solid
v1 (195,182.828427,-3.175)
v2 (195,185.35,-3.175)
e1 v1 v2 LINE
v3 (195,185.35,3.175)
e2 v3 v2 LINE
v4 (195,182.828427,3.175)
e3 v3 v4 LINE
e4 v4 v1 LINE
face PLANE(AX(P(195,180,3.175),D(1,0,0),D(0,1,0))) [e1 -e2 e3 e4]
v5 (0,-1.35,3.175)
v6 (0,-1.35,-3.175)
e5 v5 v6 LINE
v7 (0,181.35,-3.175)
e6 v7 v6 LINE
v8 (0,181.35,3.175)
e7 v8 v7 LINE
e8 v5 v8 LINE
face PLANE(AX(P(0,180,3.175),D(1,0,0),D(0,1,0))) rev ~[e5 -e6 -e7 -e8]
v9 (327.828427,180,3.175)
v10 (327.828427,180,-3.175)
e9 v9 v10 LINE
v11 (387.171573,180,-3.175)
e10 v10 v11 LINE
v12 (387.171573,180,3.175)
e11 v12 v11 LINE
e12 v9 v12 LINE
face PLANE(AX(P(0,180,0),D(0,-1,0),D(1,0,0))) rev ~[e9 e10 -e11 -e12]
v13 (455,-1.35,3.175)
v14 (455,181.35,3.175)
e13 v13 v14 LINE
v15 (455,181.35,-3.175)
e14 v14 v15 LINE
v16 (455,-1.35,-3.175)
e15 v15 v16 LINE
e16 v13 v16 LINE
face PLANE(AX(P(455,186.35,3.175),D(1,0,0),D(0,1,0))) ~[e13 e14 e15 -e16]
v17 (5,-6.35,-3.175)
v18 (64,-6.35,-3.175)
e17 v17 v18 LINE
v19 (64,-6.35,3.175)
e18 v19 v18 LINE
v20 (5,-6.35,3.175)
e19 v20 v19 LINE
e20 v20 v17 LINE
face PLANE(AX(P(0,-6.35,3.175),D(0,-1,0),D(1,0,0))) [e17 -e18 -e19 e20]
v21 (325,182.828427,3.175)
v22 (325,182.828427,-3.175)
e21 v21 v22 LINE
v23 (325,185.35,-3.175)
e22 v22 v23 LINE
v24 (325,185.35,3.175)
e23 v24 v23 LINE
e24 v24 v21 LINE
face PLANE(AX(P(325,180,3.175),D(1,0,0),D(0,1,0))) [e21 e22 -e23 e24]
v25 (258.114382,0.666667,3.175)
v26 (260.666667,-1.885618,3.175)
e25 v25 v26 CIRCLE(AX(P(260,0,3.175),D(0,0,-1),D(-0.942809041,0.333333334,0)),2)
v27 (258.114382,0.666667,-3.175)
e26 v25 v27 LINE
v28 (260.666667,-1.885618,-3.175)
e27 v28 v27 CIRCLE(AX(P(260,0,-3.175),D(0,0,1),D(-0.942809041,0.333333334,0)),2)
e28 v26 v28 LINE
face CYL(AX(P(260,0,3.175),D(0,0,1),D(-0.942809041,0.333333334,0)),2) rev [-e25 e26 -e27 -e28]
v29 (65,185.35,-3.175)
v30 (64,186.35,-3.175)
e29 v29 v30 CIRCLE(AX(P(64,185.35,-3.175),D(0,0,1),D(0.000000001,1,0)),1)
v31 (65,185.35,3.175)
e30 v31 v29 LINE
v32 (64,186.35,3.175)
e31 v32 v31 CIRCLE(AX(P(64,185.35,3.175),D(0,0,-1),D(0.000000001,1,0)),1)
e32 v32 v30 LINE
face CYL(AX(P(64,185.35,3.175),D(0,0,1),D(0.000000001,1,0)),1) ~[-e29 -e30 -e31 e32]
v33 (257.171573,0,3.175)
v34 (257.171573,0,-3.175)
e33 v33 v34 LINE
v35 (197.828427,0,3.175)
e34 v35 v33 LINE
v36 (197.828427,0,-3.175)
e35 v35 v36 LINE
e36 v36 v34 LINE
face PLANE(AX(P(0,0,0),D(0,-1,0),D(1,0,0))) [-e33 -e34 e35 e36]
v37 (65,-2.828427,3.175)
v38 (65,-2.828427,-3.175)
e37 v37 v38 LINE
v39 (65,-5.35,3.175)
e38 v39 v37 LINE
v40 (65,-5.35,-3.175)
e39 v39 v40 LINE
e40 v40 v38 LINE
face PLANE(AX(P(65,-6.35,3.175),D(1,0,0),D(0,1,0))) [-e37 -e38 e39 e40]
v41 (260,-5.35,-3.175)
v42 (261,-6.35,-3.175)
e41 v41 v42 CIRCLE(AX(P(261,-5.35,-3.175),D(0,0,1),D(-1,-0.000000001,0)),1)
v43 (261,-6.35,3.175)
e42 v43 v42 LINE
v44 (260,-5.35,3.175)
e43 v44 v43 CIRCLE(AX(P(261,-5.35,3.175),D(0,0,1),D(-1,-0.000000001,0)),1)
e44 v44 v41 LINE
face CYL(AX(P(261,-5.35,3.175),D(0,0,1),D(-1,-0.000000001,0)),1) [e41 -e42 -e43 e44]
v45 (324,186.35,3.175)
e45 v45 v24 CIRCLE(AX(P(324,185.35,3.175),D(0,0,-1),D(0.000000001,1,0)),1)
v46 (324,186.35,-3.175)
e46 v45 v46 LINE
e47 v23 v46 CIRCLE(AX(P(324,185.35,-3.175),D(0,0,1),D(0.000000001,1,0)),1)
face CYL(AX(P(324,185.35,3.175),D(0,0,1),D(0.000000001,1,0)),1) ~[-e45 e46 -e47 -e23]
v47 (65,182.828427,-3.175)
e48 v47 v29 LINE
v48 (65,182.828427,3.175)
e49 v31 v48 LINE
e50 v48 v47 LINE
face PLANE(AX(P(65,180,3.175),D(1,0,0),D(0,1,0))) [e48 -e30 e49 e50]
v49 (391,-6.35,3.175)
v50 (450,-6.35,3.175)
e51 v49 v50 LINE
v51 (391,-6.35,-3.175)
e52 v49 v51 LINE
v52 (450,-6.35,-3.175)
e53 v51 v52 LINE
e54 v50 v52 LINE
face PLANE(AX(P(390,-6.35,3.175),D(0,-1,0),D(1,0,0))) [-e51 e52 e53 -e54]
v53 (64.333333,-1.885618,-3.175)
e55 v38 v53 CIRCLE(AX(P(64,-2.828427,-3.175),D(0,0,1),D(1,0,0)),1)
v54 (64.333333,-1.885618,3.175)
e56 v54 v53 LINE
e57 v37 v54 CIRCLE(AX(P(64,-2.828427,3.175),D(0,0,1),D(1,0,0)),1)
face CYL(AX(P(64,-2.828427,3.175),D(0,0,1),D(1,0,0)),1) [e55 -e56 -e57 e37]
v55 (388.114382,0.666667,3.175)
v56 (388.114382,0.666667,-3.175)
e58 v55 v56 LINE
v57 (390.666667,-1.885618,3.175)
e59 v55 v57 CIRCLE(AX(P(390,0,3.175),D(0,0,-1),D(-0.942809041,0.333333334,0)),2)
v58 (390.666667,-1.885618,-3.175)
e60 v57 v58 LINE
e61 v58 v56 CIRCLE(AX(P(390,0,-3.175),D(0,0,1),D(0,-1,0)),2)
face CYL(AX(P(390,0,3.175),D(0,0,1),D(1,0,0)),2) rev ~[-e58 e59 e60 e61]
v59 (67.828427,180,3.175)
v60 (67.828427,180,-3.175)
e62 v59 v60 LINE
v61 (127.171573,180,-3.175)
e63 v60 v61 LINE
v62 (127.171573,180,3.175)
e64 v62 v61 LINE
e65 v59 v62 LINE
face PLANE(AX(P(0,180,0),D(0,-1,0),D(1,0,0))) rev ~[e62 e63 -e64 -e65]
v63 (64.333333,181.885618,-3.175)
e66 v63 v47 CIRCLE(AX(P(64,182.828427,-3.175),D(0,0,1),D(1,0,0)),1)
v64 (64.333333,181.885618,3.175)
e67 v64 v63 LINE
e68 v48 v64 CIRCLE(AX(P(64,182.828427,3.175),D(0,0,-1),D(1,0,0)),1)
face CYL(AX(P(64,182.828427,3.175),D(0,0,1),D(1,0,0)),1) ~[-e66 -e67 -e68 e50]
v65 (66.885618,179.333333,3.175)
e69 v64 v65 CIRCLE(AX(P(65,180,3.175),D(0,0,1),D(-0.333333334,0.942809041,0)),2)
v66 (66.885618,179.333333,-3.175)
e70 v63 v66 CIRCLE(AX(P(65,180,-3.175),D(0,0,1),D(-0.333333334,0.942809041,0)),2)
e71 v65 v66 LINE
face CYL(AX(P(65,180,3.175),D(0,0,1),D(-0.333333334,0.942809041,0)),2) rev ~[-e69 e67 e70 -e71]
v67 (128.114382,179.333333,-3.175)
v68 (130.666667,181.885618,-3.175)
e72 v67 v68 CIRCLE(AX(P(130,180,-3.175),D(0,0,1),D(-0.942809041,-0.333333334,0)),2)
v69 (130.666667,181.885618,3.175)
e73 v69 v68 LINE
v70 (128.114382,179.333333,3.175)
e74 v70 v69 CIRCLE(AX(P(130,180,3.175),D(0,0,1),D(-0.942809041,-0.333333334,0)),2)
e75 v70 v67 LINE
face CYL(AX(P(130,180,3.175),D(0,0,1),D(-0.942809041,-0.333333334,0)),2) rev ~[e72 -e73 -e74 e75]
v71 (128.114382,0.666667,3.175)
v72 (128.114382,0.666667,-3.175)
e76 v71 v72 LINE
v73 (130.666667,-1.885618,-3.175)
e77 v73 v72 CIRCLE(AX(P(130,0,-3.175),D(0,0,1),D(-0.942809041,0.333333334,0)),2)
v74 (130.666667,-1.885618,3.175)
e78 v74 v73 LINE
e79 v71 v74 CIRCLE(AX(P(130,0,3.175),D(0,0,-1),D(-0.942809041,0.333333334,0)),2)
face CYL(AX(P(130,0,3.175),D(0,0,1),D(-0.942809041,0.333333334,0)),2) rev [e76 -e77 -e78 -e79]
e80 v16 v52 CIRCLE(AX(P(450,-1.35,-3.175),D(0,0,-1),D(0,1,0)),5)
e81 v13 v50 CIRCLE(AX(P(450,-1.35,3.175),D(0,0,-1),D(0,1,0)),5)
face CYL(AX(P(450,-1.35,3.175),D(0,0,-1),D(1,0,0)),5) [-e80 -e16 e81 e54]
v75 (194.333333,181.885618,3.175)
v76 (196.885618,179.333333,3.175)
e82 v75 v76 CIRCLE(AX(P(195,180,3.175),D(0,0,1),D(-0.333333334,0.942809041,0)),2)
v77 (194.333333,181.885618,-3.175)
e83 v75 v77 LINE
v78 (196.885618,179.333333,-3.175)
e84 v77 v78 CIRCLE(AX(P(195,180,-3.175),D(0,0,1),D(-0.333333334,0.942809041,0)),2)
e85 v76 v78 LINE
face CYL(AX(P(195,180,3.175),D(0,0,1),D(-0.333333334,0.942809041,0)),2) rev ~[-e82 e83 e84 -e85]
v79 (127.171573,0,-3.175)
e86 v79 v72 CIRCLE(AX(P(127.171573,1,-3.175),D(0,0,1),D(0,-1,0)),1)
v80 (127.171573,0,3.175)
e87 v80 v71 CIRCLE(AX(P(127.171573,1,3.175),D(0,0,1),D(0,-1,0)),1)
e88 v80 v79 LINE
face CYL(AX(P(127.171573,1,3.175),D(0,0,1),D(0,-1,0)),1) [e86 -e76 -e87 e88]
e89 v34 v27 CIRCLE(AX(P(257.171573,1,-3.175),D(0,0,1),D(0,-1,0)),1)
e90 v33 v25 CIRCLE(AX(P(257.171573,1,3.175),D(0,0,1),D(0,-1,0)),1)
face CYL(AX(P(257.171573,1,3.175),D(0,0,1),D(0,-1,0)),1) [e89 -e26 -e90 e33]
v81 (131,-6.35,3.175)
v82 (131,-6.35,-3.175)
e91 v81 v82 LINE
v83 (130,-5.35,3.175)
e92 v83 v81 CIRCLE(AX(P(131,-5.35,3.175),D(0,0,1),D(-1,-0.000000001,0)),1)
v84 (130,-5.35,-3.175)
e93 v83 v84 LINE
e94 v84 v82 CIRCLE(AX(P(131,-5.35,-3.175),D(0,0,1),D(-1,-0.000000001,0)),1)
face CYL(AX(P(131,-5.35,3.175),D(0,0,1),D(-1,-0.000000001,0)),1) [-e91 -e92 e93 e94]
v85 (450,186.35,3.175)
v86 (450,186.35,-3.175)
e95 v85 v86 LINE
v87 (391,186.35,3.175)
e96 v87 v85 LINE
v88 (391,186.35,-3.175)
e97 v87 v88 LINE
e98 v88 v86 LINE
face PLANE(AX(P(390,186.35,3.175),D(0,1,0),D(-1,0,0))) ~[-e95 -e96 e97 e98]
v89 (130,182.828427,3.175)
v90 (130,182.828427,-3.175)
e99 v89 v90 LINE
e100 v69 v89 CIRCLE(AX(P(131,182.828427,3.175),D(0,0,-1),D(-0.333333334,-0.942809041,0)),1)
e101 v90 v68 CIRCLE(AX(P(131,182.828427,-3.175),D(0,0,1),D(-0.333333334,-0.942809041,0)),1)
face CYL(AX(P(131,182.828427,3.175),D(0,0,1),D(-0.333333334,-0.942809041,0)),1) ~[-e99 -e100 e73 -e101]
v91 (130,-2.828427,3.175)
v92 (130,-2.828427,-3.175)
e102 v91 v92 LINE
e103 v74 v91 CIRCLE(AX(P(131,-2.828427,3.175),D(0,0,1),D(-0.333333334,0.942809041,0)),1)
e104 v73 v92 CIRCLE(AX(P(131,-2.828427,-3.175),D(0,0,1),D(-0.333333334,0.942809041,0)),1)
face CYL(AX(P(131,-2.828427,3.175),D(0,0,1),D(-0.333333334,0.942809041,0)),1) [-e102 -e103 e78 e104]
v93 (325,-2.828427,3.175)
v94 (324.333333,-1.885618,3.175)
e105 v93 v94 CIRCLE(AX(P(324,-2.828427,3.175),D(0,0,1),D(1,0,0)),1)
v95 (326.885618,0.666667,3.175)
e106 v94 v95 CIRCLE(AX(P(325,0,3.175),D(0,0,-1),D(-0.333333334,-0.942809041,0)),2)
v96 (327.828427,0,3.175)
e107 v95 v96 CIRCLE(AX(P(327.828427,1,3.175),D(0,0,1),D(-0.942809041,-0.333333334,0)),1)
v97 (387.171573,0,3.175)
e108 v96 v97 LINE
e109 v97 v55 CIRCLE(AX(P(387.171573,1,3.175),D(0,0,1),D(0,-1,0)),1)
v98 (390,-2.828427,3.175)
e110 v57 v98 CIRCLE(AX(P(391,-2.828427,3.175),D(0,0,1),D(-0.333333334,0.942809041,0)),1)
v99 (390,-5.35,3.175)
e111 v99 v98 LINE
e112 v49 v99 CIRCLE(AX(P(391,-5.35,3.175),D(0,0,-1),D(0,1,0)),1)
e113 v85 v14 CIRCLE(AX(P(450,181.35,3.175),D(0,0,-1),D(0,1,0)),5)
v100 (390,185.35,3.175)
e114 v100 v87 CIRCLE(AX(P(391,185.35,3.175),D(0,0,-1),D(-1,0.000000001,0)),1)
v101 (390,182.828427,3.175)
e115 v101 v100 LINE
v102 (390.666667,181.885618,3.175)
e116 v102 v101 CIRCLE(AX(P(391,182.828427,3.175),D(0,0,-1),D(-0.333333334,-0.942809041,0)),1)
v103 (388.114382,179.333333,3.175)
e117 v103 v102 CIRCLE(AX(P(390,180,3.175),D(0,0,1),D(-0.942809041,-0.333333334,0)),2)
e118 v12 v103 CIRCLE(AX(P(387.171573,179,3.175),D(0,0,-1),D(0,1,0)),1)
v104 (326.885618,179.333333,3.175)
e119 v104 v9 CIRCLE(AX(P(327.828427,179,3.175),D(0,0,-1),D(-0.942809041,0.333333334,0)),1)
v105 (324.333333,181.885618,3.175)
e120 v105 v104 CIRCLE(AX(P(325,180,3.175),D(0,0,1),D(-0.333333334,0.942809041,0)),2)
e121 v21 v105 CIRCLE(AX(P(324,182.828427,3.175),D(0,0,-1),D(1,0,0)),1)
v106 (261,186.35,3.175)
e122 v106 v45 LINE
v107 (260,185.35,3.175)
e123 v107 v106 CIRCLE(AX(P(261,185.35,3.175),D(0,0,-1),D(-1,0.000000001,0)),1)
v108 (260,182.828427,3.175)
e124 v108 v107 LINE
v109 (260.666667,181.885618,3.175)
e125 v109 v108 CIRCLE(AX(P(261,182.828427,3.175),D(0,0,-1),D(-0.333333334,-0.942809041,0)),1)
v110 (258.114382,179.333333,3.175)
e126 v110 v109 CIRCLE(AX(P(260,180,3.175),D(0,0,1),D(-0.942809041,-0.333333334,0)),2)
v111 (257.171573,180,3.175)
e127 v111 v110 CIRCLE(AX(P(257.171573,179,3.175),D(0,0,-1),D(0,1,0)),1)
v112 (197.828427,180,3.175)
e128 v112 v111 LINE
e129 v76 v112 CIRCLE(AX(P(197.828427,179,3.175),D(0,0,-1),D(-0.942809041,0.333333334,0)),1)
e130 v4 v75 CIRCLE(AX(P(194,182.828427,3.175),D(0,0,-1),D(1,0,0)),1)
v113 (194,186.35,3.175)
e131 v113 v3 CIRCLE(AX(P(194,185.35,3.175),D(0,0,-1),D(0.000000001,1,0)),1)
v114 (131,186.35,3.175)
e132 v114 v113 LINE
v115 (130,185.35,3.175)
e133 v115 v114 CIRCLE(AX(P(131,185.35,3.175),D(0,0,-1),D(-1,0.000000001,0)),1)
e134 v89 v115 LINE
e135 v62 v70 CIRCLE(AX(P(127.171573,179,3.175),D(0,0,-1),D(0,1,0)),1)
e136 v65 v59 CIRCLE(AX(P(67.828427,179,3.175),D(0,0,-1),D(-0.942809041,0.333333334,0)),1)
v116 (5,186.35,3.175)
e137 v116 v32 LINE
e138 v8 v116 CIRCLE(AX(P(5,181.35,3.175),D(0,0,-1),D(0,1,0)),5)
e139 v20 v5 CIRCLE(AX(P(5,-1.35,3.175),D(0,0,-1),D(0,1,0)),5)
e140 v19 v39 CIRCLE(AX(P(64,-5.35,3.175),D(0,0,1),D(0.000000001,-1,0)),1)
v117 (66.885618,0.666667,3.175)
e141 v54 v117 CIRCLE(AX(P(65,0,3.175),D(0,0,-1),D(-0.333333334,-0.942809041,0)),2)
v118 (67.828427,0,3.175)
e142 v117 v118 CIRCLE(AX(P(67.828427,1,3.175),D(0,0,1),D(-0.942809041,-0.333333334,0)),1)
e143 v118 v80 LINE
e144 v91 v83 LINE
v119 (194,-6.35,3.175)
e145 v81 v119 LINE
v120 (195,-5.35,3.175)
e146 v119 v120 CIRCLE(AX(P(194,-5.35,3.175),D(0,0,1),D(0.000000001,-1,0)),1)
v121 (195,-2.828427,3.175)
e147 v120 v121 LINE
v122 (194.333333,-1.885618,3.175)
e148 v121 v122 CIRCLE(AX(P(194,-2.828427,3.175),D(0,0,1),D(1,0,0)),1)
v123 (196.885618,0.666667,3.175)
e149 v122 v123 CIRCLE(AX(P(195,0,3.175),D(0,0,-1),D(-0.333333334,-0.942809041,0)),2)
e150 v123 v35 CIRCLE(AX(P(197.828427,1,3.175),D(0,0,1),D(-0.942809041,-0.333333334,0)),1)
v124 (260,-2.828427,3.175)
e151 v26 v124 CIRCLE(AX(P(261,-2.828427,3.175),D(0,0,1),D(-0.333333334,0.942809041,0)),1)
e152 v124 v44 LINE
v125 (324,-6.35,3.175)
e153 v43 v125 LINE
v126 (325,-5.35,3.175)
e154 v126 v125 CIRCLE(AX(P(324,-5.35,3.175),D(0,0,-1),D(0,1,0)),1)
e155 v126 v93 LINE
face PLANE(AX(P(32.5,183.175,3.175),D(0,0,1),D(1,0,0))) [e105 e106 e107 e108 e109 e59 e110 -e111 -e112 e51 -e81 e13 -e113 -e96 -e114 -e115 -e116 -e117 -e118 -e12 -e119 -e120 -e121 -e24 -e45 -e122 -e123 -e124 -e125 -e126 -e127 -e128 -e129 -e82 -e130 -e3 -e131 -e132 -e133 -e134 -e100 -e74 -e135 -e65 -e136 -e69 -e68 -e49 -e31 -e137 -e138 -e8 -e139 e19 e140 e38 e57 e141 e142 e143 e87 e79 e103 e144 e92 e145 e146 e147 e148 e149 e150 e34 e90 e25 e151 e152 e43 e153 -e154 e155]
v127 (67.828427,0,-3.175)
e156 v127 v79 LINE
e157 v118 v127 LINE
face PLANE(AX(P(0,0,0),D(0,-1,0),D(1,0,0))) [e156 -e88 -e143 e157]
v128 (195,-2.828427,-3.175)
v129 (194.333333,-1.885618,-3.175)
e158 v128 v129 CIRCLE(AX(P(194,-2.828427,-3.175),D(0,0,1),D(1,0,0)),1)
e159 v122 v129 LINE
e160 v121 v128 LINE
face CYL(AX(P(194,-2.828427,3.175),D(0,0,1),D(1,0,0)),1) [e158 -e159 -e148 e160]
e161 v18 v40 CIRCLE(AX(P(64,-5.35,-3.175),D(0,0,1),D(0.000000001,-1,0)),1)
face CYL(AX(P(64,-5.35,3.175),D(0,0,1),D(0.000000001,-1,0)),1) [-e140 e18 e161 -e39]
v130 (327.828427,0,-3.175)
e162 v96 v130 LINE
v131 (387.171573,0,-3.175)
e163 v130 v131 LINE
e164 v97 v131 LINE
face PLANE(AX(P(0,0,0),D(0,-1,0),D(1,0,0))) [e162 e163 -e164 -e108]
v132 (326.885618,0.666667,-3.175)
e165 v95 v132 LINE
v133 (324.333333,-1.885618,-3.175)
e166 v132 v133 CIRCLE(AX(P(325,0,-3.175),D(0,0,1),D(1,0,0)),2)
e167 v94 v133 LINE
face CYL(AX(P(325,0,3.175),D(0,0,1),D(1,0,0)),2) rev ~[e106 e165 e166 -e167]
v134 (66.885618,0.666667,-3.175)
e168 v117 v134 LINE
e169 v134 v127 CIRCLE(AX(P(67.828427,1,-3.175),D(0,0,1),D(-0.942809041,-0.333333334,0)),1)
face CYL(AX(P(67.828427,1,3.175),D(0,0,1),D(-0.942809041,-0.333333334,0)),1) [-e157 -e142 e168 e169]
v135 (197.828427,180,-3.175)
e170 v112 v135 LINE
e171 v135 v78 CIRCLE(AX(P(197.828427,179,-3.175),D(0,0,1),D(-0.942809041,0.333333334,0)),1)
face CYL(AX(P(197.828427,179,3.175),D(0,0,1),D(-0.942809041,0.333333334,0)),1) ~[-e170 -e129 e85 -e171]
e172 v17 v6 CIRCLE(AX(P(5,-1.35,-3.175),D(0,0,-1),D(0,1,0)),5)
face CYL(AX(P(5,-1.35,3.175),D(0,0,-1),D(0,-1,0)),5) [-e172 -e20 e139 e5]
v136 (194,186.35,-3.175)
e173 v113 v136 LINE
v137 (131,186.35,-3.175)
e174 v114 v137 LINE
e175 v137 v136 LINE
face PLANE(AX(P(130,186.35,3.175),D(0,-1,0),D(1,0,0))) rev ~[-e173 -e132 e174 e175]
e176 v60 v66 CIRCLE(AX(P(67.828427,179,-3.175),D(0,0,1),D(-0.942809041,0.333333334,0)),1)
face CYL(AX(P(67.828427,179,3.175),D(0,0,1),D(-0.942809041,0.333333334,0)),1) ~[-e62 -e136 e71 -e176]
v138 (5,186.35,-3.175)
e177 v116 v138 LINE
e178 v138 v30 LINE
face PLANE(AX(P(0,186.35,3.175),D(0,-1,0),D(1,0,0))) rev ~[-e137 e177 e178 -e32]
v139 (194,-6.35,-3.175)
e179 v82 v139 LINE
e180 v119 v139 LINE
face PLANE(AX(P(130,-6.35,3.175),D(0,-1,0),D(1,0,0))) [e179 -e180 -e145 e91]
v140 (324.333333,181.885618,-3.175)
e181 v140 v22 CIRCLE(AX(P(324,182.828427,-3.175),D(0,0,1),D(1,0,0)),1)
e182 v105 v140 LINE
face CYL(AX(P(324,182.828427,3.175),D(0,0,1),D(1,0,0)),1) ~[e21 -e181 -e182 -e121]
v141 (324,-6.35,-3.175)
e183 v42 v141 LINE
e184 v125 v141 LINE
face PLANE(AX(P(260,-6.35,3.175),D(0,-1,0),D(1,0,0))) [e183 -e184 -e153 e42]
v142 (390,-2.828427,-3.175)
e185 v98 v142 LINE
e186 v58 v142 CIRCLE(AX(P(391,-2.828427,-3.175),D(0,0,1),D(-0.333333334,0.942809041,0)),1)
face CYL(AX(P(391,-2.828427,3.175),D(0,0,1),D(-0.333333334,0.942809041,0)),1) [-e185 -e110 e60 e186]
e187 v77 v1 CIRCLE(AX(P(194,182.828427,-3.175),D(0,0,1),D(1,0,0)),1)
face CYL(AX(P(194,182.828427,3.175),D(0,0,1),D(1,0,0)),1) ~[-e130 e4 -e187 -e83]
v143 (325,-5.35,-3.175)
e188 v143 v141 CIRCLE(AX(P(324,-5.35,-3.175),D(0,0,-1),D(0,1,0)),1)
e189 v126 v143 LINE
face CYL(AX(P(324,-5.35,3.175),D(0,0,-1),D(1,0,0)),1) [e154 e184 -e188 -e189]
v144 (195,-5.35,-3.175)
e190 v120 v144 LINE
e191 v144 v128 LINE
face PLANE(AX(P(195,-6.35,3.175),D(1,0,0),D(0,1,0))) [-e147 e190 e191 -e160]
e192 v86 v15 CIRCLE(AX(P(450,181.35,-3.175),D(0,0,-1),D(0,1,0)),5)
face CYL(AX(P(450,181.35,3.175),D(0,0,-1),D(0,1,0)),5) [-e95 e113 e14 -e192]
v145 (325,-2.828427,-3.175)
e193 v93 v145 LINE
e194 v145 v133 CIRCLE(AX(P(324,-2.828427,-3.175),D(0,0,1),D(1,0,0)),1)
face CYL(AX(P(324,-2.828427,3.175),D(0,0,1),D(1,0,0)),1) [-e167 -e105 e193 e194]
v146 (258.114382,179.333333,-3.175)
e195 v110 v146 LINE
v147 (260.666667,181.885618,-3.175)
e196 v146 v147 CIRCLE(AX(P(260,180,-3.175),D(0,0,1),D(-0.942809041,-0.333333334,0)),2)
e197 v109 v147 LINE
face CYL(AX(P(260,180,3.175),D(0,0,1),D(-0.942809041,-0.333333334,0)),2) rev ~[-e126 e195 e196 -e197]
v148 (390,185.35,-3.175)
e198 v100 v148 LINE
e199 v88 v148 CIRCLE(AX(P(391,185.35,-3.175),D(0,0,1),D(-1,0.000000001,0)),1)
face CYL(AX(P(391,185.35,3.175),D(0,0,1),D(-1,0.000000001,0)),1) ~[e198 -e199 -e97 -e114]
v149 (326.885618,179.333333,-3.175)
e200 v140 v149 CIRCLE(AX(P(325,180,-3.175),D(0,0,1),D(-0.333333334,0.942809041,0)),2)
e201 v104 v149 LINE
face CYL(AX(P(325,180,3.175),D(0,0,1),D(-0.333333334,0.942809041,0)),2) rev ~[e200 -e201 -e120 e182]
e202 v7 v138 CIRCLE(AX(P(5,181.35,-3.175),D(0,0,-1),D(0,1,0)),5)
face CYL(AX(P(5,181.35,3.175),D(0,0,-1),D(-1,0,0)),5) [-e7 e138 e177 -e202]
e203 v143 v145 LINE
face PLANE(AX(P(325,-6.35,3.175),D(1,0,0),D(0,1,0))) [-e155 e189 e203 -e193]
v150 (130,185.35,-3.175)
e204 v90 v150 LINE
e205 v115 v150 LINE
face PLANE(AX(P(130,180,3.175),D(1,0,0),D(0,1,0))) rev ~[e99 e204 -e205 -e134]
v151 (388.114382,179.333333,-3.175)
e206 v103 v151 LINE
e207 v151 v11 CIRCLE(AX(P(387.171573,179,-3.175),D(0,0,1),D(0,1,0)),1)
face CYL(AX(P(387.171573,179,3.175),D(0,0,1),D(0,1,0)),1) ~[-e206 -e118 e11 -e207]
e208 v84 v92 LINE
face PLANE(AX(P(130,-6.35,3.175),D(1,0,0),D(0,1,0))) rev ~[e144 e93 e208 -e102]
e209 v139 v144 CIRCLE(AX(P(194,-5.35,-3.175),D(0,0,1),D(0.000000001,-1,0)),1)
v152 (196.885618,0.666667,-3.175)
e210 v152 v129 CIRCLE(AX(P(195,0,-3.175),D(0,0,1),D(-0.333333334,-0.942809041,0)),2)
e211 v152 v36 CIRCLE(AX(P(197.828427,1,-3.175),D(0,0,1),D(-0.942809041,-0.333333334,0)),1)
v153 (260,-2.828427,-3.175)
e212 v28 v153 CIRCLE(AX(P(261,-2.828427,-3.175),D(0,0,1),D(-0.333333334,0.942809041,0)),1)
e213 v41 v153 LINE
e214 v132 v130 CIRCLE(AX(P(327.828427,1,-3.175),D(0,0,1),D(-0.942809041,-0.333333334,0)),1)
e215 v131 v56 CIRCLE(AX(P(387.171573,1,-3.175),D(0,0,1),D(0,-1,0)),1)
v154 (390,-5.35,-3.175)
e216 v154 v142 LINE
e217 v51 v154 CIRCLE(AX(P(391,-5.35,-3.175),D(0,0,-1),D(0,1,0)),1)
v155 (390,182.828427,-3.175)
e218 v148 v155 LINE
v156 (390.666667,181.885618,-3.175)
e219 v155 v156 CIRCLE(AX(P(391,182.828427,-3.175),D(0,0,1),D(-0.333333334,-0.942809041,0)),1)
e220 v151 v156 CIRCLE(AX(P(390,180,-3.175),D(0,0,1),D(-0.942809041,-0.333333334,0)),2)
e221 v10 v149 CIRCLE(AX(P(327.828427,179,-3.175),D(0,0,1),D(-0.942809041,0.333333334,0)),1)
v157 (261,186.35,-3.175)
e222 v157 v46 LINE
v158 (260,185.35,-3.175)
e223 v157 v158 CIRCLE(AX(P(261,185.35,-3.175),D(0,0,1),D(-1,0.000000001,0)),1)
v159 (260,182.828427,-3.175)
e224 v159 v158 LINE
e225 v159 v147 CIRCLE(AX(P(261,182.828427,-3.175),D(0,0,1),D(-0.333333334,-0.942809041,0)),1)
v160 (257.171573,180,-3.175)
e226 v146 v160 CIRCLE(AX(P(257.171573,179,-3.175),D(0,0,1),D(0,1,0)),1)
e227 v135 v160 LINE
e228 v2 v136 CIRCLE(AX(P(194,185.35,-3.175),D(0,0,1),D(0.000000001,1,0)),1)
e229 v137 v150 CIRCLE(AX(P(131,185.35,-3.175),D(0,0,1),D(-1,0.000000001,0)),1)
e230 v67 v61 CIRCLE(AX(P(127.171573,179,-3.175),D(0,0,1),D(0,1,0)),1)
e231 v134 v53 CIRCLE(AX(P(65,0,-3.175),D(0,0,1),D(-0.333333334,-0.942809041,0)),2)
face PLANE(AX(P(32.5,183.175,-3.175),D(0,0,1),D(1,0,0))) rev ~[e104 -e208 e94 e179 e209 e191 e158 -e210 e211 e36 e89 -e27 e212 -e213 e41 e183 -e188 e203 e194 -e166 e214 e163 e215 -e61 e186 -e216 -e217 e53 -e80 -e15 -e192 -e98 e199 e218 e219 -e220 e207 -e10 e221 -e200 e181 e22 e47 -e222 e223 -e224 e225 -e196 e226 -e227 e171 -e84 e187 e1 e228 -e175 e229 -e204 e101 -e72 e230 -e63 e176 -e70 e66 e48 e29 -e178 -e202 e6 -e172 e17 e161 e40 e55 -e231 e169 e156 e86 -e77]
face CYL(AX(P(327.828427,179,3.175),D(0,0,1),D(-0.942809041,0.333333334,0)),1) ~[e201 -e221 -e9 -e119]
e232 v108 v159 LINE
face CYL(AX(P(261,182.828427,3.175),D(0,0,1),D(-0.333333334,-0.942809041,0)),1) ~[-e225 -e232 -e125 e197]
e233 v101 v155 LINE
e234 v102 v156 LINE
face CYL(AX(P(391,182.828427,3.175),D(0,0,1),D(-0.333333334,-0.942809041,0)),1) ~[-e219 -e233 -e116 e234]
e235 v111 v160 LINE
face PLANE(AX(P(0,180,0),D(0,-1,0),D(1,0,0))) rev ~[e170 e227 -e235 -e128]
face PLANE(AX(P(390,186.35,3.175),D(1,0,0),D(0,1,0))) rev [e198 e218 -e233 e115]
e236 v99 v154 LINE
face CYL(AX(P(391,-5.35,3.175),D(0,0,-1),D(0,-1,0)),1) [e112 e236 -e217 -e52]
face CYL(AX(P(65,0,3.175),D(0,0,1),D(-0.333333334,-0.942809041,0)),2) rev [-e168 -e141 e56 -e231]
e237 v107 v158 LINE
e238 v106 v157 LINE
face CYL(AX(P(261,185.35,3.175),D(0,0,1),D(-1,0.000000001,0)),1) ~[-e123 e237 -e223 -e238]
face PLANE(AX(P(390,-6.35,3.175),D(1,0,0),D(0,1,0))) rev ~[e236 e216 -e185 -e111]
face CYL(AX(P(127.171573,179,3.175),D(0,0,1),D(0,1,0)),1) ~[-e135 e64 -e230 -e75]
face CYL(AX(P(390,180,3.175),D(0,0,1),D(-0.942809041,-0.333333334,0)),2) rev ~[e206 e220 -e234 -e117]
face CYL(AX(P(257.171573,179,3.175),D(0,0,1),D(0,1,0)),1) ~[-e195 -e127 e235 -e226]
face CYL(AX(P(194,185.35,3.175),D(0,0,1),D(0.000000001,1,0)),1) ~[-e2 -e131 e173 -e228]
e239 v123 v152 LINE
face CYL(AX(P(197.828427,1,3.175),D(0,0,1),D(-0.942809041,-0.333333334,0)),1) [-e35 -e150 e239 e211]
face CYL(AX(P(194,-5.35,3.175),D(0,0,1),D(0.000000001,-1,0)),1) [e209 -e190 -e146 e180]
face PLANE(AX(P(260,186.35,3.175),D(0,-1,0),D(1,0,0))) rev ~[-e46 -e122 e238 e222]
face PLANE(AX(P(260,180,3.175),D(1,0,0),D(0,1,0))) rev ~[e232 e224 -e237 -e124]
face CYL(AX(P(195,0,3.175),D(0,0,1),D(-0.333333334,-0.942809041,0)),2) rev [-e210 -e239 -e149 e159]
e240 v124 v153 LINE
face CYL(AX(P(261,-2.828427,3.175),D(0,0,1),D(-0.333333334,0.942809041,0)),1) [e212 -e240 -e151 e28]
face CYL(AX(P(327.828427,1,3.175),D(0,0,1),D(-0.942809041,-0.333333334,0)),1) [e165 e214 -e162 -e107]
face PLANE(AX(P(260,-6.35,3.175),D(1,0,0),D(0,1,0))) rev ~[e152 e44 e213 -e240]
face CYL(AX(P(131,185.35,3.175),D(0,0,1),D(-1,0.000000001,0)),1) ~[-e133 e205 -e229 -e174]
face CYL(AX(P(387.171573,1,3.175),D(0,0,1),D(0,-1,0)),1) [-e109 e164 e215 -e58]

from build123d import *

# Parameters (mm, degrees)
SKETCH1_W               = 455
SKETCH1_H               = 180
BOSS_EXTRUDE1_DEPTH     = 3.175
SKETCH2_W               = 65
SKETCH2_H               = 6.35
BOSS_EXTRUDE2_DEPTH     = 6.35
LPATTERN1_COUNT         = 4
LPATTERN1_PITCH         = 130
MIRROR1_COPY_1_SKETCH_W = 65
MIRROR1_COPY_1_SKETCH_H = 6.35
MIRROR1_COPY_1_DEPTH    = 6.35
MIRROR1_COPY_2_SKETCH_W = 65
MIRROR1_COPY_2_SKETCH_H = 6.35
MIRROR1_COPY_2_DEPTH    = 6.35
MIRROR1_COPY_3_SKETCH_W = 65
MIRROR1_COPY_3_SKETCH_H = 6.35
MIRROR1_COPY_3_DEPTH    = 6.35
SKETCH3_R               = 2
CUT_EXTRUDE1_DEPTH      = 7.35
FILLET2_R               = 1
CUT_EXTRUDE2_DEPTH      = 7.35
LPATTERN2_COUNT         = 3
LPATTERN2_PITCH         = 130
MIRROR2_COPY_1_DEPTH    = 7.35
MIRROR2_COPY_2_DEPTH    = 7.35
FILLET4_R               = 5


with BuildPart() as part:
    # Sketch1 → Boss-Extrude1 (new body, symmetric)
    with BuildSketch(Plane.XY):
        with Locations((227.5, 90)):
            Rectangle(SKETCH1_W, SKETCH1_H)
    extrude(amount=BOSS_EXTRUDE1_DEPTH, both=True)

    # Sketch2 → Boss-Extrude2 (add)
    with BuildSketch(Plane.XY.offset(3.175)):
        with Locations((422.5, -3.175)):
            Rectangle(SKETCH2_W, SKETCH2_H)
    boss_extrude2 = extrude(amount=-BOSS_EXTRUDE2_DEPTH)

    # LPattern1: Boss-Extrude2 ×4
    with Locations(*[(-i * LPATTERN1_PITCH, 0, 0) for i in range(1, LPATTERN1_COUNT)]):
        add(boss_extrude2)

    # Mirror1: Boss-Extrude2 across plane
    add(boss_extrude2.mirror(Plane(origin=(0, 90, 0), x_dir=(0, 0, 1), z_dir=(0, -1, 0))))

    # Mirror1 copy 1 sketch → Mirror1 copy 1 (add)
    with BuildSketch(Plane(origin=(-130, 180, 3.175), x_dir=(1, 0, 0), z_dir=(0, 0, 1))):
        with Locations((422.5, 3.175)):
            Rectangle(MIRROR1_COPY_1_SKETCH_W, MIRROR1_COPY_1_SKETCH_H)
    extrude(amount=-MIRROR1_COPY_1_DEPTH)

    # Mirror1 copy 2 sketch → Mirror1 copy 2 (add)
    with BuildSketch(Plane(origin=(-260, 180, 3.175), x_dir=(1, 0, 0), z_dir=(0, 0, 1))):
        with Locations((422.5, 3.175)):
            Rectangle(MIRROR1_COPY_2_SKETCH_W, MIRROR1_COPY_2_SKETCH_H)
    extrude(amount=-MIRROR1_COPY_2_DEPTH)

    # Mirror1 copy 3 sketch → Mirror1 copy 3 (add)
    with BuildSketch(Plane(origin=(-390, 180, 3.175), x_dir=(1, 0, 0), z_dir=(0, 0, 1))):
        with Locations((422.5, 3.175)):
            Rectangle(MIRROR1_COPY_3_SKETCH_W, MIRROR1_COPY_3_SKETCH_H)
    extrude(amount=-MIRROR1_COPY_3_DEPTH)

    # Sketch3 → Cut-Extrude1 (cut, through all)
    with BuildSketch(Plane.XY.offset(3.175)):
        with Locations((325, 0)):
            Circle(SKETCH3_R)
        with Locations((390, 0)):
            Circle(SKETCH3_R)
    extrude(amount=-CUT_EXTRUDE1_DEPTH, mode=Mode.SUBTRACT)

    # Fillet2
    fillet2_edges = [part.edges().sort_by_distance(p)[0] for p in [
        (390, -6.35, 0),
        (325, -6.35, 0),
    ]]
    fillet(fillet2_edges, radius=FILLET2_R)

    # Sketch4 → Cut-Extrude2 (cut, through all)
    with BuildSketch(Plane.XY.offset(3.175)):
        with BuildLine():
            Line((390, -2.828427125), (390, -5.35))
            ThreePointArc((390, -5.35), (390.292893219, -6.057106781), (391, -6.35))
            Line((391, -6.35), (324, -6.35))
            ThreePointArc((324, -6.35), (324.707106781, -6.057106781), (325, -5.35))
            Line((325, -5.35), (325, -2.828427125))
            ThreePointArc((325, -2.828427125), (324.816496581, -2.251076856), (324.333333333, -1.885618083))
            ThreePointArc((324.333333333, -1.885618083), (323.585786438, 1.414213562), (326.885618083, 0.666666667))
            ThreePointArc((326.885618083, 0.666666667), (327.251076856, 0.183503419), (327.828427125, 0))
            Line((327.828427125, 0), (387.171572875, 0))
            ThreePointArc((387.171572875, 0), (387.748923144, 0.183503419), (388.114381917, 0.666666667))
            ThreePointArc((388.114381917, 0.666666667), (391.414213562, 1.414213562), (390.666666667, -1.885618083))
            ThreePointArc((390.666666667, -1.885618083), (390.183503419, -2.251076856), (390, -2.828427125))
        make_face()
    cut_extrude2 = extrude(amount=-CUT_EXTRUDE2_DEPTH, mode=Mode.SUBTRACT)

    # LPattern2: Cut-Extrude2 ×3
    with Locations(*[(-i * LPATTERN2_PITCH, 0, 0) for i in range(1, LPATTERN2_COUNT)]):
        add(cut_extrude2, mode=Mode.SUBTRACT)

    # Mirror2: Cut-Extrude2 across plane
    add(cut_extrude2.mirror(Plane(origin=(0, 90, 0), x_dir=(0, 0, 1), z_dir=(0, -1, 0))), mode=Mode.SUBTRACT)

    # Mirror2 copy 1 sketch → Mirror2 copy 1 (cut, through all)
    with BuildSketch(Plane(origin=(-130, 180, 3.175), x_dir=(1, 0, 0), z_dir=(0, 0, 1))):
        with BuildLine():
            Line((390, 2.828427125), (390, 5.35))
            ThreePointArc((390, 5.35), (390.292893219, 6.057106781), (391, 6.35))
            Line((391, 6.35), (324, 6.35))
            ThreePointArc((324, 6.35), (324.707106781, 6.057106781), (325, 5.35))
            Line((325, 5.35), (325, 2.828427125))
            ThreePointArc((325, 2.828427125), (324.816496581, 2.251076856), (324.333333333, 1.885618083))
            ThreePointArc((324.333333333, 1.885618083), (323.585786438, -1.414213562), (326.885618083, -0.666666667))
            ThreePointArc((326.885618083, -0.666666667), (327.251076856, -0.183503419), (327.828427125, 0))
            Line((327.828427125, 0), (387.171572875, 0))
            ThreePointArc((387.171572875, 0), (387.748923144, -0.183503419), (388.114381917, -0.666666667))
            ThreePointArc((388.114381917, -0.666666667), (391.414213562, -1.414213562), (390.666666667, 1.885618083))
            ThreePointArc((390.666666667, 1.885618083), (390.183503419, 2.251076856), (390, 2.828427125))
        make_face()
    extrude(amount=-MIRROR2_COPY_1_DEPTH, mode=Mode.SUBTRACT)

    # Mirror2 copy 2 sketch → Mirror2 copy 2 (cut, through all)
    with BuildSketch(Plane(origin=(-260, 180, 3.175), x_dir=(1, 0, 0), z_dir=(0, 0, 1))):
        with BuildLine():
            Line((390, 2.828427125), (390, 5.35))
            ThreePointArc((390, 5.35), (390.292893219, 6.057106781), (391, 6.35))
            Line((391, 6.35), (324, 6.35))
            ThreePointArc((324, 6.35), (324.707106781, 6.057106781), (325, 5.35))
            Line((325, 5.35), (325, 2.828427125))
            ThreePointArc((325, 2.828427125), (324.816496581, 2.251076856), (324.333333333, 1.885618083))
            ThreePointArc((324.333333333, 1.885618083), (323.585786438, -1.414213562), (326.885618083, -0.666666667))
            ThreePointArc((326.885618083, -0.666666667), (327.251076856, -0.183503419), (327.828427125, 0))
            Line((327.828427125, 0), (387.171572875, 0))
            ThreePointArc((387.171572875, 0), (387.748923144, -0.183503419), (388.114381917, -0.666666667))
            ThreePointArc((388.114381917, -0.666666667), (391.414213562, -1.414213562), (390.666666667, 1.885618083))
            ThreePointArc((390.666666667, 1.885618083), (390.183503419, 2.251076856), (390, 2.828427125))
        make_face()
    extrude(amount=-MIRROR2_COPY_2_DEPTH, mode=Mode.SUBTRACT)

    # Fillet4
    fillet4_edges = [part.edges().sort_by_distance(p)[0] for p in [
        (455, -6.35, 0),
        (0, -6.35, 0),
        (455, 186.35, 0),
        (0, 186.35, 0),
    ]]
    fillet(fillet4_edges, radius=FILLET4_R)


solid = part.part
